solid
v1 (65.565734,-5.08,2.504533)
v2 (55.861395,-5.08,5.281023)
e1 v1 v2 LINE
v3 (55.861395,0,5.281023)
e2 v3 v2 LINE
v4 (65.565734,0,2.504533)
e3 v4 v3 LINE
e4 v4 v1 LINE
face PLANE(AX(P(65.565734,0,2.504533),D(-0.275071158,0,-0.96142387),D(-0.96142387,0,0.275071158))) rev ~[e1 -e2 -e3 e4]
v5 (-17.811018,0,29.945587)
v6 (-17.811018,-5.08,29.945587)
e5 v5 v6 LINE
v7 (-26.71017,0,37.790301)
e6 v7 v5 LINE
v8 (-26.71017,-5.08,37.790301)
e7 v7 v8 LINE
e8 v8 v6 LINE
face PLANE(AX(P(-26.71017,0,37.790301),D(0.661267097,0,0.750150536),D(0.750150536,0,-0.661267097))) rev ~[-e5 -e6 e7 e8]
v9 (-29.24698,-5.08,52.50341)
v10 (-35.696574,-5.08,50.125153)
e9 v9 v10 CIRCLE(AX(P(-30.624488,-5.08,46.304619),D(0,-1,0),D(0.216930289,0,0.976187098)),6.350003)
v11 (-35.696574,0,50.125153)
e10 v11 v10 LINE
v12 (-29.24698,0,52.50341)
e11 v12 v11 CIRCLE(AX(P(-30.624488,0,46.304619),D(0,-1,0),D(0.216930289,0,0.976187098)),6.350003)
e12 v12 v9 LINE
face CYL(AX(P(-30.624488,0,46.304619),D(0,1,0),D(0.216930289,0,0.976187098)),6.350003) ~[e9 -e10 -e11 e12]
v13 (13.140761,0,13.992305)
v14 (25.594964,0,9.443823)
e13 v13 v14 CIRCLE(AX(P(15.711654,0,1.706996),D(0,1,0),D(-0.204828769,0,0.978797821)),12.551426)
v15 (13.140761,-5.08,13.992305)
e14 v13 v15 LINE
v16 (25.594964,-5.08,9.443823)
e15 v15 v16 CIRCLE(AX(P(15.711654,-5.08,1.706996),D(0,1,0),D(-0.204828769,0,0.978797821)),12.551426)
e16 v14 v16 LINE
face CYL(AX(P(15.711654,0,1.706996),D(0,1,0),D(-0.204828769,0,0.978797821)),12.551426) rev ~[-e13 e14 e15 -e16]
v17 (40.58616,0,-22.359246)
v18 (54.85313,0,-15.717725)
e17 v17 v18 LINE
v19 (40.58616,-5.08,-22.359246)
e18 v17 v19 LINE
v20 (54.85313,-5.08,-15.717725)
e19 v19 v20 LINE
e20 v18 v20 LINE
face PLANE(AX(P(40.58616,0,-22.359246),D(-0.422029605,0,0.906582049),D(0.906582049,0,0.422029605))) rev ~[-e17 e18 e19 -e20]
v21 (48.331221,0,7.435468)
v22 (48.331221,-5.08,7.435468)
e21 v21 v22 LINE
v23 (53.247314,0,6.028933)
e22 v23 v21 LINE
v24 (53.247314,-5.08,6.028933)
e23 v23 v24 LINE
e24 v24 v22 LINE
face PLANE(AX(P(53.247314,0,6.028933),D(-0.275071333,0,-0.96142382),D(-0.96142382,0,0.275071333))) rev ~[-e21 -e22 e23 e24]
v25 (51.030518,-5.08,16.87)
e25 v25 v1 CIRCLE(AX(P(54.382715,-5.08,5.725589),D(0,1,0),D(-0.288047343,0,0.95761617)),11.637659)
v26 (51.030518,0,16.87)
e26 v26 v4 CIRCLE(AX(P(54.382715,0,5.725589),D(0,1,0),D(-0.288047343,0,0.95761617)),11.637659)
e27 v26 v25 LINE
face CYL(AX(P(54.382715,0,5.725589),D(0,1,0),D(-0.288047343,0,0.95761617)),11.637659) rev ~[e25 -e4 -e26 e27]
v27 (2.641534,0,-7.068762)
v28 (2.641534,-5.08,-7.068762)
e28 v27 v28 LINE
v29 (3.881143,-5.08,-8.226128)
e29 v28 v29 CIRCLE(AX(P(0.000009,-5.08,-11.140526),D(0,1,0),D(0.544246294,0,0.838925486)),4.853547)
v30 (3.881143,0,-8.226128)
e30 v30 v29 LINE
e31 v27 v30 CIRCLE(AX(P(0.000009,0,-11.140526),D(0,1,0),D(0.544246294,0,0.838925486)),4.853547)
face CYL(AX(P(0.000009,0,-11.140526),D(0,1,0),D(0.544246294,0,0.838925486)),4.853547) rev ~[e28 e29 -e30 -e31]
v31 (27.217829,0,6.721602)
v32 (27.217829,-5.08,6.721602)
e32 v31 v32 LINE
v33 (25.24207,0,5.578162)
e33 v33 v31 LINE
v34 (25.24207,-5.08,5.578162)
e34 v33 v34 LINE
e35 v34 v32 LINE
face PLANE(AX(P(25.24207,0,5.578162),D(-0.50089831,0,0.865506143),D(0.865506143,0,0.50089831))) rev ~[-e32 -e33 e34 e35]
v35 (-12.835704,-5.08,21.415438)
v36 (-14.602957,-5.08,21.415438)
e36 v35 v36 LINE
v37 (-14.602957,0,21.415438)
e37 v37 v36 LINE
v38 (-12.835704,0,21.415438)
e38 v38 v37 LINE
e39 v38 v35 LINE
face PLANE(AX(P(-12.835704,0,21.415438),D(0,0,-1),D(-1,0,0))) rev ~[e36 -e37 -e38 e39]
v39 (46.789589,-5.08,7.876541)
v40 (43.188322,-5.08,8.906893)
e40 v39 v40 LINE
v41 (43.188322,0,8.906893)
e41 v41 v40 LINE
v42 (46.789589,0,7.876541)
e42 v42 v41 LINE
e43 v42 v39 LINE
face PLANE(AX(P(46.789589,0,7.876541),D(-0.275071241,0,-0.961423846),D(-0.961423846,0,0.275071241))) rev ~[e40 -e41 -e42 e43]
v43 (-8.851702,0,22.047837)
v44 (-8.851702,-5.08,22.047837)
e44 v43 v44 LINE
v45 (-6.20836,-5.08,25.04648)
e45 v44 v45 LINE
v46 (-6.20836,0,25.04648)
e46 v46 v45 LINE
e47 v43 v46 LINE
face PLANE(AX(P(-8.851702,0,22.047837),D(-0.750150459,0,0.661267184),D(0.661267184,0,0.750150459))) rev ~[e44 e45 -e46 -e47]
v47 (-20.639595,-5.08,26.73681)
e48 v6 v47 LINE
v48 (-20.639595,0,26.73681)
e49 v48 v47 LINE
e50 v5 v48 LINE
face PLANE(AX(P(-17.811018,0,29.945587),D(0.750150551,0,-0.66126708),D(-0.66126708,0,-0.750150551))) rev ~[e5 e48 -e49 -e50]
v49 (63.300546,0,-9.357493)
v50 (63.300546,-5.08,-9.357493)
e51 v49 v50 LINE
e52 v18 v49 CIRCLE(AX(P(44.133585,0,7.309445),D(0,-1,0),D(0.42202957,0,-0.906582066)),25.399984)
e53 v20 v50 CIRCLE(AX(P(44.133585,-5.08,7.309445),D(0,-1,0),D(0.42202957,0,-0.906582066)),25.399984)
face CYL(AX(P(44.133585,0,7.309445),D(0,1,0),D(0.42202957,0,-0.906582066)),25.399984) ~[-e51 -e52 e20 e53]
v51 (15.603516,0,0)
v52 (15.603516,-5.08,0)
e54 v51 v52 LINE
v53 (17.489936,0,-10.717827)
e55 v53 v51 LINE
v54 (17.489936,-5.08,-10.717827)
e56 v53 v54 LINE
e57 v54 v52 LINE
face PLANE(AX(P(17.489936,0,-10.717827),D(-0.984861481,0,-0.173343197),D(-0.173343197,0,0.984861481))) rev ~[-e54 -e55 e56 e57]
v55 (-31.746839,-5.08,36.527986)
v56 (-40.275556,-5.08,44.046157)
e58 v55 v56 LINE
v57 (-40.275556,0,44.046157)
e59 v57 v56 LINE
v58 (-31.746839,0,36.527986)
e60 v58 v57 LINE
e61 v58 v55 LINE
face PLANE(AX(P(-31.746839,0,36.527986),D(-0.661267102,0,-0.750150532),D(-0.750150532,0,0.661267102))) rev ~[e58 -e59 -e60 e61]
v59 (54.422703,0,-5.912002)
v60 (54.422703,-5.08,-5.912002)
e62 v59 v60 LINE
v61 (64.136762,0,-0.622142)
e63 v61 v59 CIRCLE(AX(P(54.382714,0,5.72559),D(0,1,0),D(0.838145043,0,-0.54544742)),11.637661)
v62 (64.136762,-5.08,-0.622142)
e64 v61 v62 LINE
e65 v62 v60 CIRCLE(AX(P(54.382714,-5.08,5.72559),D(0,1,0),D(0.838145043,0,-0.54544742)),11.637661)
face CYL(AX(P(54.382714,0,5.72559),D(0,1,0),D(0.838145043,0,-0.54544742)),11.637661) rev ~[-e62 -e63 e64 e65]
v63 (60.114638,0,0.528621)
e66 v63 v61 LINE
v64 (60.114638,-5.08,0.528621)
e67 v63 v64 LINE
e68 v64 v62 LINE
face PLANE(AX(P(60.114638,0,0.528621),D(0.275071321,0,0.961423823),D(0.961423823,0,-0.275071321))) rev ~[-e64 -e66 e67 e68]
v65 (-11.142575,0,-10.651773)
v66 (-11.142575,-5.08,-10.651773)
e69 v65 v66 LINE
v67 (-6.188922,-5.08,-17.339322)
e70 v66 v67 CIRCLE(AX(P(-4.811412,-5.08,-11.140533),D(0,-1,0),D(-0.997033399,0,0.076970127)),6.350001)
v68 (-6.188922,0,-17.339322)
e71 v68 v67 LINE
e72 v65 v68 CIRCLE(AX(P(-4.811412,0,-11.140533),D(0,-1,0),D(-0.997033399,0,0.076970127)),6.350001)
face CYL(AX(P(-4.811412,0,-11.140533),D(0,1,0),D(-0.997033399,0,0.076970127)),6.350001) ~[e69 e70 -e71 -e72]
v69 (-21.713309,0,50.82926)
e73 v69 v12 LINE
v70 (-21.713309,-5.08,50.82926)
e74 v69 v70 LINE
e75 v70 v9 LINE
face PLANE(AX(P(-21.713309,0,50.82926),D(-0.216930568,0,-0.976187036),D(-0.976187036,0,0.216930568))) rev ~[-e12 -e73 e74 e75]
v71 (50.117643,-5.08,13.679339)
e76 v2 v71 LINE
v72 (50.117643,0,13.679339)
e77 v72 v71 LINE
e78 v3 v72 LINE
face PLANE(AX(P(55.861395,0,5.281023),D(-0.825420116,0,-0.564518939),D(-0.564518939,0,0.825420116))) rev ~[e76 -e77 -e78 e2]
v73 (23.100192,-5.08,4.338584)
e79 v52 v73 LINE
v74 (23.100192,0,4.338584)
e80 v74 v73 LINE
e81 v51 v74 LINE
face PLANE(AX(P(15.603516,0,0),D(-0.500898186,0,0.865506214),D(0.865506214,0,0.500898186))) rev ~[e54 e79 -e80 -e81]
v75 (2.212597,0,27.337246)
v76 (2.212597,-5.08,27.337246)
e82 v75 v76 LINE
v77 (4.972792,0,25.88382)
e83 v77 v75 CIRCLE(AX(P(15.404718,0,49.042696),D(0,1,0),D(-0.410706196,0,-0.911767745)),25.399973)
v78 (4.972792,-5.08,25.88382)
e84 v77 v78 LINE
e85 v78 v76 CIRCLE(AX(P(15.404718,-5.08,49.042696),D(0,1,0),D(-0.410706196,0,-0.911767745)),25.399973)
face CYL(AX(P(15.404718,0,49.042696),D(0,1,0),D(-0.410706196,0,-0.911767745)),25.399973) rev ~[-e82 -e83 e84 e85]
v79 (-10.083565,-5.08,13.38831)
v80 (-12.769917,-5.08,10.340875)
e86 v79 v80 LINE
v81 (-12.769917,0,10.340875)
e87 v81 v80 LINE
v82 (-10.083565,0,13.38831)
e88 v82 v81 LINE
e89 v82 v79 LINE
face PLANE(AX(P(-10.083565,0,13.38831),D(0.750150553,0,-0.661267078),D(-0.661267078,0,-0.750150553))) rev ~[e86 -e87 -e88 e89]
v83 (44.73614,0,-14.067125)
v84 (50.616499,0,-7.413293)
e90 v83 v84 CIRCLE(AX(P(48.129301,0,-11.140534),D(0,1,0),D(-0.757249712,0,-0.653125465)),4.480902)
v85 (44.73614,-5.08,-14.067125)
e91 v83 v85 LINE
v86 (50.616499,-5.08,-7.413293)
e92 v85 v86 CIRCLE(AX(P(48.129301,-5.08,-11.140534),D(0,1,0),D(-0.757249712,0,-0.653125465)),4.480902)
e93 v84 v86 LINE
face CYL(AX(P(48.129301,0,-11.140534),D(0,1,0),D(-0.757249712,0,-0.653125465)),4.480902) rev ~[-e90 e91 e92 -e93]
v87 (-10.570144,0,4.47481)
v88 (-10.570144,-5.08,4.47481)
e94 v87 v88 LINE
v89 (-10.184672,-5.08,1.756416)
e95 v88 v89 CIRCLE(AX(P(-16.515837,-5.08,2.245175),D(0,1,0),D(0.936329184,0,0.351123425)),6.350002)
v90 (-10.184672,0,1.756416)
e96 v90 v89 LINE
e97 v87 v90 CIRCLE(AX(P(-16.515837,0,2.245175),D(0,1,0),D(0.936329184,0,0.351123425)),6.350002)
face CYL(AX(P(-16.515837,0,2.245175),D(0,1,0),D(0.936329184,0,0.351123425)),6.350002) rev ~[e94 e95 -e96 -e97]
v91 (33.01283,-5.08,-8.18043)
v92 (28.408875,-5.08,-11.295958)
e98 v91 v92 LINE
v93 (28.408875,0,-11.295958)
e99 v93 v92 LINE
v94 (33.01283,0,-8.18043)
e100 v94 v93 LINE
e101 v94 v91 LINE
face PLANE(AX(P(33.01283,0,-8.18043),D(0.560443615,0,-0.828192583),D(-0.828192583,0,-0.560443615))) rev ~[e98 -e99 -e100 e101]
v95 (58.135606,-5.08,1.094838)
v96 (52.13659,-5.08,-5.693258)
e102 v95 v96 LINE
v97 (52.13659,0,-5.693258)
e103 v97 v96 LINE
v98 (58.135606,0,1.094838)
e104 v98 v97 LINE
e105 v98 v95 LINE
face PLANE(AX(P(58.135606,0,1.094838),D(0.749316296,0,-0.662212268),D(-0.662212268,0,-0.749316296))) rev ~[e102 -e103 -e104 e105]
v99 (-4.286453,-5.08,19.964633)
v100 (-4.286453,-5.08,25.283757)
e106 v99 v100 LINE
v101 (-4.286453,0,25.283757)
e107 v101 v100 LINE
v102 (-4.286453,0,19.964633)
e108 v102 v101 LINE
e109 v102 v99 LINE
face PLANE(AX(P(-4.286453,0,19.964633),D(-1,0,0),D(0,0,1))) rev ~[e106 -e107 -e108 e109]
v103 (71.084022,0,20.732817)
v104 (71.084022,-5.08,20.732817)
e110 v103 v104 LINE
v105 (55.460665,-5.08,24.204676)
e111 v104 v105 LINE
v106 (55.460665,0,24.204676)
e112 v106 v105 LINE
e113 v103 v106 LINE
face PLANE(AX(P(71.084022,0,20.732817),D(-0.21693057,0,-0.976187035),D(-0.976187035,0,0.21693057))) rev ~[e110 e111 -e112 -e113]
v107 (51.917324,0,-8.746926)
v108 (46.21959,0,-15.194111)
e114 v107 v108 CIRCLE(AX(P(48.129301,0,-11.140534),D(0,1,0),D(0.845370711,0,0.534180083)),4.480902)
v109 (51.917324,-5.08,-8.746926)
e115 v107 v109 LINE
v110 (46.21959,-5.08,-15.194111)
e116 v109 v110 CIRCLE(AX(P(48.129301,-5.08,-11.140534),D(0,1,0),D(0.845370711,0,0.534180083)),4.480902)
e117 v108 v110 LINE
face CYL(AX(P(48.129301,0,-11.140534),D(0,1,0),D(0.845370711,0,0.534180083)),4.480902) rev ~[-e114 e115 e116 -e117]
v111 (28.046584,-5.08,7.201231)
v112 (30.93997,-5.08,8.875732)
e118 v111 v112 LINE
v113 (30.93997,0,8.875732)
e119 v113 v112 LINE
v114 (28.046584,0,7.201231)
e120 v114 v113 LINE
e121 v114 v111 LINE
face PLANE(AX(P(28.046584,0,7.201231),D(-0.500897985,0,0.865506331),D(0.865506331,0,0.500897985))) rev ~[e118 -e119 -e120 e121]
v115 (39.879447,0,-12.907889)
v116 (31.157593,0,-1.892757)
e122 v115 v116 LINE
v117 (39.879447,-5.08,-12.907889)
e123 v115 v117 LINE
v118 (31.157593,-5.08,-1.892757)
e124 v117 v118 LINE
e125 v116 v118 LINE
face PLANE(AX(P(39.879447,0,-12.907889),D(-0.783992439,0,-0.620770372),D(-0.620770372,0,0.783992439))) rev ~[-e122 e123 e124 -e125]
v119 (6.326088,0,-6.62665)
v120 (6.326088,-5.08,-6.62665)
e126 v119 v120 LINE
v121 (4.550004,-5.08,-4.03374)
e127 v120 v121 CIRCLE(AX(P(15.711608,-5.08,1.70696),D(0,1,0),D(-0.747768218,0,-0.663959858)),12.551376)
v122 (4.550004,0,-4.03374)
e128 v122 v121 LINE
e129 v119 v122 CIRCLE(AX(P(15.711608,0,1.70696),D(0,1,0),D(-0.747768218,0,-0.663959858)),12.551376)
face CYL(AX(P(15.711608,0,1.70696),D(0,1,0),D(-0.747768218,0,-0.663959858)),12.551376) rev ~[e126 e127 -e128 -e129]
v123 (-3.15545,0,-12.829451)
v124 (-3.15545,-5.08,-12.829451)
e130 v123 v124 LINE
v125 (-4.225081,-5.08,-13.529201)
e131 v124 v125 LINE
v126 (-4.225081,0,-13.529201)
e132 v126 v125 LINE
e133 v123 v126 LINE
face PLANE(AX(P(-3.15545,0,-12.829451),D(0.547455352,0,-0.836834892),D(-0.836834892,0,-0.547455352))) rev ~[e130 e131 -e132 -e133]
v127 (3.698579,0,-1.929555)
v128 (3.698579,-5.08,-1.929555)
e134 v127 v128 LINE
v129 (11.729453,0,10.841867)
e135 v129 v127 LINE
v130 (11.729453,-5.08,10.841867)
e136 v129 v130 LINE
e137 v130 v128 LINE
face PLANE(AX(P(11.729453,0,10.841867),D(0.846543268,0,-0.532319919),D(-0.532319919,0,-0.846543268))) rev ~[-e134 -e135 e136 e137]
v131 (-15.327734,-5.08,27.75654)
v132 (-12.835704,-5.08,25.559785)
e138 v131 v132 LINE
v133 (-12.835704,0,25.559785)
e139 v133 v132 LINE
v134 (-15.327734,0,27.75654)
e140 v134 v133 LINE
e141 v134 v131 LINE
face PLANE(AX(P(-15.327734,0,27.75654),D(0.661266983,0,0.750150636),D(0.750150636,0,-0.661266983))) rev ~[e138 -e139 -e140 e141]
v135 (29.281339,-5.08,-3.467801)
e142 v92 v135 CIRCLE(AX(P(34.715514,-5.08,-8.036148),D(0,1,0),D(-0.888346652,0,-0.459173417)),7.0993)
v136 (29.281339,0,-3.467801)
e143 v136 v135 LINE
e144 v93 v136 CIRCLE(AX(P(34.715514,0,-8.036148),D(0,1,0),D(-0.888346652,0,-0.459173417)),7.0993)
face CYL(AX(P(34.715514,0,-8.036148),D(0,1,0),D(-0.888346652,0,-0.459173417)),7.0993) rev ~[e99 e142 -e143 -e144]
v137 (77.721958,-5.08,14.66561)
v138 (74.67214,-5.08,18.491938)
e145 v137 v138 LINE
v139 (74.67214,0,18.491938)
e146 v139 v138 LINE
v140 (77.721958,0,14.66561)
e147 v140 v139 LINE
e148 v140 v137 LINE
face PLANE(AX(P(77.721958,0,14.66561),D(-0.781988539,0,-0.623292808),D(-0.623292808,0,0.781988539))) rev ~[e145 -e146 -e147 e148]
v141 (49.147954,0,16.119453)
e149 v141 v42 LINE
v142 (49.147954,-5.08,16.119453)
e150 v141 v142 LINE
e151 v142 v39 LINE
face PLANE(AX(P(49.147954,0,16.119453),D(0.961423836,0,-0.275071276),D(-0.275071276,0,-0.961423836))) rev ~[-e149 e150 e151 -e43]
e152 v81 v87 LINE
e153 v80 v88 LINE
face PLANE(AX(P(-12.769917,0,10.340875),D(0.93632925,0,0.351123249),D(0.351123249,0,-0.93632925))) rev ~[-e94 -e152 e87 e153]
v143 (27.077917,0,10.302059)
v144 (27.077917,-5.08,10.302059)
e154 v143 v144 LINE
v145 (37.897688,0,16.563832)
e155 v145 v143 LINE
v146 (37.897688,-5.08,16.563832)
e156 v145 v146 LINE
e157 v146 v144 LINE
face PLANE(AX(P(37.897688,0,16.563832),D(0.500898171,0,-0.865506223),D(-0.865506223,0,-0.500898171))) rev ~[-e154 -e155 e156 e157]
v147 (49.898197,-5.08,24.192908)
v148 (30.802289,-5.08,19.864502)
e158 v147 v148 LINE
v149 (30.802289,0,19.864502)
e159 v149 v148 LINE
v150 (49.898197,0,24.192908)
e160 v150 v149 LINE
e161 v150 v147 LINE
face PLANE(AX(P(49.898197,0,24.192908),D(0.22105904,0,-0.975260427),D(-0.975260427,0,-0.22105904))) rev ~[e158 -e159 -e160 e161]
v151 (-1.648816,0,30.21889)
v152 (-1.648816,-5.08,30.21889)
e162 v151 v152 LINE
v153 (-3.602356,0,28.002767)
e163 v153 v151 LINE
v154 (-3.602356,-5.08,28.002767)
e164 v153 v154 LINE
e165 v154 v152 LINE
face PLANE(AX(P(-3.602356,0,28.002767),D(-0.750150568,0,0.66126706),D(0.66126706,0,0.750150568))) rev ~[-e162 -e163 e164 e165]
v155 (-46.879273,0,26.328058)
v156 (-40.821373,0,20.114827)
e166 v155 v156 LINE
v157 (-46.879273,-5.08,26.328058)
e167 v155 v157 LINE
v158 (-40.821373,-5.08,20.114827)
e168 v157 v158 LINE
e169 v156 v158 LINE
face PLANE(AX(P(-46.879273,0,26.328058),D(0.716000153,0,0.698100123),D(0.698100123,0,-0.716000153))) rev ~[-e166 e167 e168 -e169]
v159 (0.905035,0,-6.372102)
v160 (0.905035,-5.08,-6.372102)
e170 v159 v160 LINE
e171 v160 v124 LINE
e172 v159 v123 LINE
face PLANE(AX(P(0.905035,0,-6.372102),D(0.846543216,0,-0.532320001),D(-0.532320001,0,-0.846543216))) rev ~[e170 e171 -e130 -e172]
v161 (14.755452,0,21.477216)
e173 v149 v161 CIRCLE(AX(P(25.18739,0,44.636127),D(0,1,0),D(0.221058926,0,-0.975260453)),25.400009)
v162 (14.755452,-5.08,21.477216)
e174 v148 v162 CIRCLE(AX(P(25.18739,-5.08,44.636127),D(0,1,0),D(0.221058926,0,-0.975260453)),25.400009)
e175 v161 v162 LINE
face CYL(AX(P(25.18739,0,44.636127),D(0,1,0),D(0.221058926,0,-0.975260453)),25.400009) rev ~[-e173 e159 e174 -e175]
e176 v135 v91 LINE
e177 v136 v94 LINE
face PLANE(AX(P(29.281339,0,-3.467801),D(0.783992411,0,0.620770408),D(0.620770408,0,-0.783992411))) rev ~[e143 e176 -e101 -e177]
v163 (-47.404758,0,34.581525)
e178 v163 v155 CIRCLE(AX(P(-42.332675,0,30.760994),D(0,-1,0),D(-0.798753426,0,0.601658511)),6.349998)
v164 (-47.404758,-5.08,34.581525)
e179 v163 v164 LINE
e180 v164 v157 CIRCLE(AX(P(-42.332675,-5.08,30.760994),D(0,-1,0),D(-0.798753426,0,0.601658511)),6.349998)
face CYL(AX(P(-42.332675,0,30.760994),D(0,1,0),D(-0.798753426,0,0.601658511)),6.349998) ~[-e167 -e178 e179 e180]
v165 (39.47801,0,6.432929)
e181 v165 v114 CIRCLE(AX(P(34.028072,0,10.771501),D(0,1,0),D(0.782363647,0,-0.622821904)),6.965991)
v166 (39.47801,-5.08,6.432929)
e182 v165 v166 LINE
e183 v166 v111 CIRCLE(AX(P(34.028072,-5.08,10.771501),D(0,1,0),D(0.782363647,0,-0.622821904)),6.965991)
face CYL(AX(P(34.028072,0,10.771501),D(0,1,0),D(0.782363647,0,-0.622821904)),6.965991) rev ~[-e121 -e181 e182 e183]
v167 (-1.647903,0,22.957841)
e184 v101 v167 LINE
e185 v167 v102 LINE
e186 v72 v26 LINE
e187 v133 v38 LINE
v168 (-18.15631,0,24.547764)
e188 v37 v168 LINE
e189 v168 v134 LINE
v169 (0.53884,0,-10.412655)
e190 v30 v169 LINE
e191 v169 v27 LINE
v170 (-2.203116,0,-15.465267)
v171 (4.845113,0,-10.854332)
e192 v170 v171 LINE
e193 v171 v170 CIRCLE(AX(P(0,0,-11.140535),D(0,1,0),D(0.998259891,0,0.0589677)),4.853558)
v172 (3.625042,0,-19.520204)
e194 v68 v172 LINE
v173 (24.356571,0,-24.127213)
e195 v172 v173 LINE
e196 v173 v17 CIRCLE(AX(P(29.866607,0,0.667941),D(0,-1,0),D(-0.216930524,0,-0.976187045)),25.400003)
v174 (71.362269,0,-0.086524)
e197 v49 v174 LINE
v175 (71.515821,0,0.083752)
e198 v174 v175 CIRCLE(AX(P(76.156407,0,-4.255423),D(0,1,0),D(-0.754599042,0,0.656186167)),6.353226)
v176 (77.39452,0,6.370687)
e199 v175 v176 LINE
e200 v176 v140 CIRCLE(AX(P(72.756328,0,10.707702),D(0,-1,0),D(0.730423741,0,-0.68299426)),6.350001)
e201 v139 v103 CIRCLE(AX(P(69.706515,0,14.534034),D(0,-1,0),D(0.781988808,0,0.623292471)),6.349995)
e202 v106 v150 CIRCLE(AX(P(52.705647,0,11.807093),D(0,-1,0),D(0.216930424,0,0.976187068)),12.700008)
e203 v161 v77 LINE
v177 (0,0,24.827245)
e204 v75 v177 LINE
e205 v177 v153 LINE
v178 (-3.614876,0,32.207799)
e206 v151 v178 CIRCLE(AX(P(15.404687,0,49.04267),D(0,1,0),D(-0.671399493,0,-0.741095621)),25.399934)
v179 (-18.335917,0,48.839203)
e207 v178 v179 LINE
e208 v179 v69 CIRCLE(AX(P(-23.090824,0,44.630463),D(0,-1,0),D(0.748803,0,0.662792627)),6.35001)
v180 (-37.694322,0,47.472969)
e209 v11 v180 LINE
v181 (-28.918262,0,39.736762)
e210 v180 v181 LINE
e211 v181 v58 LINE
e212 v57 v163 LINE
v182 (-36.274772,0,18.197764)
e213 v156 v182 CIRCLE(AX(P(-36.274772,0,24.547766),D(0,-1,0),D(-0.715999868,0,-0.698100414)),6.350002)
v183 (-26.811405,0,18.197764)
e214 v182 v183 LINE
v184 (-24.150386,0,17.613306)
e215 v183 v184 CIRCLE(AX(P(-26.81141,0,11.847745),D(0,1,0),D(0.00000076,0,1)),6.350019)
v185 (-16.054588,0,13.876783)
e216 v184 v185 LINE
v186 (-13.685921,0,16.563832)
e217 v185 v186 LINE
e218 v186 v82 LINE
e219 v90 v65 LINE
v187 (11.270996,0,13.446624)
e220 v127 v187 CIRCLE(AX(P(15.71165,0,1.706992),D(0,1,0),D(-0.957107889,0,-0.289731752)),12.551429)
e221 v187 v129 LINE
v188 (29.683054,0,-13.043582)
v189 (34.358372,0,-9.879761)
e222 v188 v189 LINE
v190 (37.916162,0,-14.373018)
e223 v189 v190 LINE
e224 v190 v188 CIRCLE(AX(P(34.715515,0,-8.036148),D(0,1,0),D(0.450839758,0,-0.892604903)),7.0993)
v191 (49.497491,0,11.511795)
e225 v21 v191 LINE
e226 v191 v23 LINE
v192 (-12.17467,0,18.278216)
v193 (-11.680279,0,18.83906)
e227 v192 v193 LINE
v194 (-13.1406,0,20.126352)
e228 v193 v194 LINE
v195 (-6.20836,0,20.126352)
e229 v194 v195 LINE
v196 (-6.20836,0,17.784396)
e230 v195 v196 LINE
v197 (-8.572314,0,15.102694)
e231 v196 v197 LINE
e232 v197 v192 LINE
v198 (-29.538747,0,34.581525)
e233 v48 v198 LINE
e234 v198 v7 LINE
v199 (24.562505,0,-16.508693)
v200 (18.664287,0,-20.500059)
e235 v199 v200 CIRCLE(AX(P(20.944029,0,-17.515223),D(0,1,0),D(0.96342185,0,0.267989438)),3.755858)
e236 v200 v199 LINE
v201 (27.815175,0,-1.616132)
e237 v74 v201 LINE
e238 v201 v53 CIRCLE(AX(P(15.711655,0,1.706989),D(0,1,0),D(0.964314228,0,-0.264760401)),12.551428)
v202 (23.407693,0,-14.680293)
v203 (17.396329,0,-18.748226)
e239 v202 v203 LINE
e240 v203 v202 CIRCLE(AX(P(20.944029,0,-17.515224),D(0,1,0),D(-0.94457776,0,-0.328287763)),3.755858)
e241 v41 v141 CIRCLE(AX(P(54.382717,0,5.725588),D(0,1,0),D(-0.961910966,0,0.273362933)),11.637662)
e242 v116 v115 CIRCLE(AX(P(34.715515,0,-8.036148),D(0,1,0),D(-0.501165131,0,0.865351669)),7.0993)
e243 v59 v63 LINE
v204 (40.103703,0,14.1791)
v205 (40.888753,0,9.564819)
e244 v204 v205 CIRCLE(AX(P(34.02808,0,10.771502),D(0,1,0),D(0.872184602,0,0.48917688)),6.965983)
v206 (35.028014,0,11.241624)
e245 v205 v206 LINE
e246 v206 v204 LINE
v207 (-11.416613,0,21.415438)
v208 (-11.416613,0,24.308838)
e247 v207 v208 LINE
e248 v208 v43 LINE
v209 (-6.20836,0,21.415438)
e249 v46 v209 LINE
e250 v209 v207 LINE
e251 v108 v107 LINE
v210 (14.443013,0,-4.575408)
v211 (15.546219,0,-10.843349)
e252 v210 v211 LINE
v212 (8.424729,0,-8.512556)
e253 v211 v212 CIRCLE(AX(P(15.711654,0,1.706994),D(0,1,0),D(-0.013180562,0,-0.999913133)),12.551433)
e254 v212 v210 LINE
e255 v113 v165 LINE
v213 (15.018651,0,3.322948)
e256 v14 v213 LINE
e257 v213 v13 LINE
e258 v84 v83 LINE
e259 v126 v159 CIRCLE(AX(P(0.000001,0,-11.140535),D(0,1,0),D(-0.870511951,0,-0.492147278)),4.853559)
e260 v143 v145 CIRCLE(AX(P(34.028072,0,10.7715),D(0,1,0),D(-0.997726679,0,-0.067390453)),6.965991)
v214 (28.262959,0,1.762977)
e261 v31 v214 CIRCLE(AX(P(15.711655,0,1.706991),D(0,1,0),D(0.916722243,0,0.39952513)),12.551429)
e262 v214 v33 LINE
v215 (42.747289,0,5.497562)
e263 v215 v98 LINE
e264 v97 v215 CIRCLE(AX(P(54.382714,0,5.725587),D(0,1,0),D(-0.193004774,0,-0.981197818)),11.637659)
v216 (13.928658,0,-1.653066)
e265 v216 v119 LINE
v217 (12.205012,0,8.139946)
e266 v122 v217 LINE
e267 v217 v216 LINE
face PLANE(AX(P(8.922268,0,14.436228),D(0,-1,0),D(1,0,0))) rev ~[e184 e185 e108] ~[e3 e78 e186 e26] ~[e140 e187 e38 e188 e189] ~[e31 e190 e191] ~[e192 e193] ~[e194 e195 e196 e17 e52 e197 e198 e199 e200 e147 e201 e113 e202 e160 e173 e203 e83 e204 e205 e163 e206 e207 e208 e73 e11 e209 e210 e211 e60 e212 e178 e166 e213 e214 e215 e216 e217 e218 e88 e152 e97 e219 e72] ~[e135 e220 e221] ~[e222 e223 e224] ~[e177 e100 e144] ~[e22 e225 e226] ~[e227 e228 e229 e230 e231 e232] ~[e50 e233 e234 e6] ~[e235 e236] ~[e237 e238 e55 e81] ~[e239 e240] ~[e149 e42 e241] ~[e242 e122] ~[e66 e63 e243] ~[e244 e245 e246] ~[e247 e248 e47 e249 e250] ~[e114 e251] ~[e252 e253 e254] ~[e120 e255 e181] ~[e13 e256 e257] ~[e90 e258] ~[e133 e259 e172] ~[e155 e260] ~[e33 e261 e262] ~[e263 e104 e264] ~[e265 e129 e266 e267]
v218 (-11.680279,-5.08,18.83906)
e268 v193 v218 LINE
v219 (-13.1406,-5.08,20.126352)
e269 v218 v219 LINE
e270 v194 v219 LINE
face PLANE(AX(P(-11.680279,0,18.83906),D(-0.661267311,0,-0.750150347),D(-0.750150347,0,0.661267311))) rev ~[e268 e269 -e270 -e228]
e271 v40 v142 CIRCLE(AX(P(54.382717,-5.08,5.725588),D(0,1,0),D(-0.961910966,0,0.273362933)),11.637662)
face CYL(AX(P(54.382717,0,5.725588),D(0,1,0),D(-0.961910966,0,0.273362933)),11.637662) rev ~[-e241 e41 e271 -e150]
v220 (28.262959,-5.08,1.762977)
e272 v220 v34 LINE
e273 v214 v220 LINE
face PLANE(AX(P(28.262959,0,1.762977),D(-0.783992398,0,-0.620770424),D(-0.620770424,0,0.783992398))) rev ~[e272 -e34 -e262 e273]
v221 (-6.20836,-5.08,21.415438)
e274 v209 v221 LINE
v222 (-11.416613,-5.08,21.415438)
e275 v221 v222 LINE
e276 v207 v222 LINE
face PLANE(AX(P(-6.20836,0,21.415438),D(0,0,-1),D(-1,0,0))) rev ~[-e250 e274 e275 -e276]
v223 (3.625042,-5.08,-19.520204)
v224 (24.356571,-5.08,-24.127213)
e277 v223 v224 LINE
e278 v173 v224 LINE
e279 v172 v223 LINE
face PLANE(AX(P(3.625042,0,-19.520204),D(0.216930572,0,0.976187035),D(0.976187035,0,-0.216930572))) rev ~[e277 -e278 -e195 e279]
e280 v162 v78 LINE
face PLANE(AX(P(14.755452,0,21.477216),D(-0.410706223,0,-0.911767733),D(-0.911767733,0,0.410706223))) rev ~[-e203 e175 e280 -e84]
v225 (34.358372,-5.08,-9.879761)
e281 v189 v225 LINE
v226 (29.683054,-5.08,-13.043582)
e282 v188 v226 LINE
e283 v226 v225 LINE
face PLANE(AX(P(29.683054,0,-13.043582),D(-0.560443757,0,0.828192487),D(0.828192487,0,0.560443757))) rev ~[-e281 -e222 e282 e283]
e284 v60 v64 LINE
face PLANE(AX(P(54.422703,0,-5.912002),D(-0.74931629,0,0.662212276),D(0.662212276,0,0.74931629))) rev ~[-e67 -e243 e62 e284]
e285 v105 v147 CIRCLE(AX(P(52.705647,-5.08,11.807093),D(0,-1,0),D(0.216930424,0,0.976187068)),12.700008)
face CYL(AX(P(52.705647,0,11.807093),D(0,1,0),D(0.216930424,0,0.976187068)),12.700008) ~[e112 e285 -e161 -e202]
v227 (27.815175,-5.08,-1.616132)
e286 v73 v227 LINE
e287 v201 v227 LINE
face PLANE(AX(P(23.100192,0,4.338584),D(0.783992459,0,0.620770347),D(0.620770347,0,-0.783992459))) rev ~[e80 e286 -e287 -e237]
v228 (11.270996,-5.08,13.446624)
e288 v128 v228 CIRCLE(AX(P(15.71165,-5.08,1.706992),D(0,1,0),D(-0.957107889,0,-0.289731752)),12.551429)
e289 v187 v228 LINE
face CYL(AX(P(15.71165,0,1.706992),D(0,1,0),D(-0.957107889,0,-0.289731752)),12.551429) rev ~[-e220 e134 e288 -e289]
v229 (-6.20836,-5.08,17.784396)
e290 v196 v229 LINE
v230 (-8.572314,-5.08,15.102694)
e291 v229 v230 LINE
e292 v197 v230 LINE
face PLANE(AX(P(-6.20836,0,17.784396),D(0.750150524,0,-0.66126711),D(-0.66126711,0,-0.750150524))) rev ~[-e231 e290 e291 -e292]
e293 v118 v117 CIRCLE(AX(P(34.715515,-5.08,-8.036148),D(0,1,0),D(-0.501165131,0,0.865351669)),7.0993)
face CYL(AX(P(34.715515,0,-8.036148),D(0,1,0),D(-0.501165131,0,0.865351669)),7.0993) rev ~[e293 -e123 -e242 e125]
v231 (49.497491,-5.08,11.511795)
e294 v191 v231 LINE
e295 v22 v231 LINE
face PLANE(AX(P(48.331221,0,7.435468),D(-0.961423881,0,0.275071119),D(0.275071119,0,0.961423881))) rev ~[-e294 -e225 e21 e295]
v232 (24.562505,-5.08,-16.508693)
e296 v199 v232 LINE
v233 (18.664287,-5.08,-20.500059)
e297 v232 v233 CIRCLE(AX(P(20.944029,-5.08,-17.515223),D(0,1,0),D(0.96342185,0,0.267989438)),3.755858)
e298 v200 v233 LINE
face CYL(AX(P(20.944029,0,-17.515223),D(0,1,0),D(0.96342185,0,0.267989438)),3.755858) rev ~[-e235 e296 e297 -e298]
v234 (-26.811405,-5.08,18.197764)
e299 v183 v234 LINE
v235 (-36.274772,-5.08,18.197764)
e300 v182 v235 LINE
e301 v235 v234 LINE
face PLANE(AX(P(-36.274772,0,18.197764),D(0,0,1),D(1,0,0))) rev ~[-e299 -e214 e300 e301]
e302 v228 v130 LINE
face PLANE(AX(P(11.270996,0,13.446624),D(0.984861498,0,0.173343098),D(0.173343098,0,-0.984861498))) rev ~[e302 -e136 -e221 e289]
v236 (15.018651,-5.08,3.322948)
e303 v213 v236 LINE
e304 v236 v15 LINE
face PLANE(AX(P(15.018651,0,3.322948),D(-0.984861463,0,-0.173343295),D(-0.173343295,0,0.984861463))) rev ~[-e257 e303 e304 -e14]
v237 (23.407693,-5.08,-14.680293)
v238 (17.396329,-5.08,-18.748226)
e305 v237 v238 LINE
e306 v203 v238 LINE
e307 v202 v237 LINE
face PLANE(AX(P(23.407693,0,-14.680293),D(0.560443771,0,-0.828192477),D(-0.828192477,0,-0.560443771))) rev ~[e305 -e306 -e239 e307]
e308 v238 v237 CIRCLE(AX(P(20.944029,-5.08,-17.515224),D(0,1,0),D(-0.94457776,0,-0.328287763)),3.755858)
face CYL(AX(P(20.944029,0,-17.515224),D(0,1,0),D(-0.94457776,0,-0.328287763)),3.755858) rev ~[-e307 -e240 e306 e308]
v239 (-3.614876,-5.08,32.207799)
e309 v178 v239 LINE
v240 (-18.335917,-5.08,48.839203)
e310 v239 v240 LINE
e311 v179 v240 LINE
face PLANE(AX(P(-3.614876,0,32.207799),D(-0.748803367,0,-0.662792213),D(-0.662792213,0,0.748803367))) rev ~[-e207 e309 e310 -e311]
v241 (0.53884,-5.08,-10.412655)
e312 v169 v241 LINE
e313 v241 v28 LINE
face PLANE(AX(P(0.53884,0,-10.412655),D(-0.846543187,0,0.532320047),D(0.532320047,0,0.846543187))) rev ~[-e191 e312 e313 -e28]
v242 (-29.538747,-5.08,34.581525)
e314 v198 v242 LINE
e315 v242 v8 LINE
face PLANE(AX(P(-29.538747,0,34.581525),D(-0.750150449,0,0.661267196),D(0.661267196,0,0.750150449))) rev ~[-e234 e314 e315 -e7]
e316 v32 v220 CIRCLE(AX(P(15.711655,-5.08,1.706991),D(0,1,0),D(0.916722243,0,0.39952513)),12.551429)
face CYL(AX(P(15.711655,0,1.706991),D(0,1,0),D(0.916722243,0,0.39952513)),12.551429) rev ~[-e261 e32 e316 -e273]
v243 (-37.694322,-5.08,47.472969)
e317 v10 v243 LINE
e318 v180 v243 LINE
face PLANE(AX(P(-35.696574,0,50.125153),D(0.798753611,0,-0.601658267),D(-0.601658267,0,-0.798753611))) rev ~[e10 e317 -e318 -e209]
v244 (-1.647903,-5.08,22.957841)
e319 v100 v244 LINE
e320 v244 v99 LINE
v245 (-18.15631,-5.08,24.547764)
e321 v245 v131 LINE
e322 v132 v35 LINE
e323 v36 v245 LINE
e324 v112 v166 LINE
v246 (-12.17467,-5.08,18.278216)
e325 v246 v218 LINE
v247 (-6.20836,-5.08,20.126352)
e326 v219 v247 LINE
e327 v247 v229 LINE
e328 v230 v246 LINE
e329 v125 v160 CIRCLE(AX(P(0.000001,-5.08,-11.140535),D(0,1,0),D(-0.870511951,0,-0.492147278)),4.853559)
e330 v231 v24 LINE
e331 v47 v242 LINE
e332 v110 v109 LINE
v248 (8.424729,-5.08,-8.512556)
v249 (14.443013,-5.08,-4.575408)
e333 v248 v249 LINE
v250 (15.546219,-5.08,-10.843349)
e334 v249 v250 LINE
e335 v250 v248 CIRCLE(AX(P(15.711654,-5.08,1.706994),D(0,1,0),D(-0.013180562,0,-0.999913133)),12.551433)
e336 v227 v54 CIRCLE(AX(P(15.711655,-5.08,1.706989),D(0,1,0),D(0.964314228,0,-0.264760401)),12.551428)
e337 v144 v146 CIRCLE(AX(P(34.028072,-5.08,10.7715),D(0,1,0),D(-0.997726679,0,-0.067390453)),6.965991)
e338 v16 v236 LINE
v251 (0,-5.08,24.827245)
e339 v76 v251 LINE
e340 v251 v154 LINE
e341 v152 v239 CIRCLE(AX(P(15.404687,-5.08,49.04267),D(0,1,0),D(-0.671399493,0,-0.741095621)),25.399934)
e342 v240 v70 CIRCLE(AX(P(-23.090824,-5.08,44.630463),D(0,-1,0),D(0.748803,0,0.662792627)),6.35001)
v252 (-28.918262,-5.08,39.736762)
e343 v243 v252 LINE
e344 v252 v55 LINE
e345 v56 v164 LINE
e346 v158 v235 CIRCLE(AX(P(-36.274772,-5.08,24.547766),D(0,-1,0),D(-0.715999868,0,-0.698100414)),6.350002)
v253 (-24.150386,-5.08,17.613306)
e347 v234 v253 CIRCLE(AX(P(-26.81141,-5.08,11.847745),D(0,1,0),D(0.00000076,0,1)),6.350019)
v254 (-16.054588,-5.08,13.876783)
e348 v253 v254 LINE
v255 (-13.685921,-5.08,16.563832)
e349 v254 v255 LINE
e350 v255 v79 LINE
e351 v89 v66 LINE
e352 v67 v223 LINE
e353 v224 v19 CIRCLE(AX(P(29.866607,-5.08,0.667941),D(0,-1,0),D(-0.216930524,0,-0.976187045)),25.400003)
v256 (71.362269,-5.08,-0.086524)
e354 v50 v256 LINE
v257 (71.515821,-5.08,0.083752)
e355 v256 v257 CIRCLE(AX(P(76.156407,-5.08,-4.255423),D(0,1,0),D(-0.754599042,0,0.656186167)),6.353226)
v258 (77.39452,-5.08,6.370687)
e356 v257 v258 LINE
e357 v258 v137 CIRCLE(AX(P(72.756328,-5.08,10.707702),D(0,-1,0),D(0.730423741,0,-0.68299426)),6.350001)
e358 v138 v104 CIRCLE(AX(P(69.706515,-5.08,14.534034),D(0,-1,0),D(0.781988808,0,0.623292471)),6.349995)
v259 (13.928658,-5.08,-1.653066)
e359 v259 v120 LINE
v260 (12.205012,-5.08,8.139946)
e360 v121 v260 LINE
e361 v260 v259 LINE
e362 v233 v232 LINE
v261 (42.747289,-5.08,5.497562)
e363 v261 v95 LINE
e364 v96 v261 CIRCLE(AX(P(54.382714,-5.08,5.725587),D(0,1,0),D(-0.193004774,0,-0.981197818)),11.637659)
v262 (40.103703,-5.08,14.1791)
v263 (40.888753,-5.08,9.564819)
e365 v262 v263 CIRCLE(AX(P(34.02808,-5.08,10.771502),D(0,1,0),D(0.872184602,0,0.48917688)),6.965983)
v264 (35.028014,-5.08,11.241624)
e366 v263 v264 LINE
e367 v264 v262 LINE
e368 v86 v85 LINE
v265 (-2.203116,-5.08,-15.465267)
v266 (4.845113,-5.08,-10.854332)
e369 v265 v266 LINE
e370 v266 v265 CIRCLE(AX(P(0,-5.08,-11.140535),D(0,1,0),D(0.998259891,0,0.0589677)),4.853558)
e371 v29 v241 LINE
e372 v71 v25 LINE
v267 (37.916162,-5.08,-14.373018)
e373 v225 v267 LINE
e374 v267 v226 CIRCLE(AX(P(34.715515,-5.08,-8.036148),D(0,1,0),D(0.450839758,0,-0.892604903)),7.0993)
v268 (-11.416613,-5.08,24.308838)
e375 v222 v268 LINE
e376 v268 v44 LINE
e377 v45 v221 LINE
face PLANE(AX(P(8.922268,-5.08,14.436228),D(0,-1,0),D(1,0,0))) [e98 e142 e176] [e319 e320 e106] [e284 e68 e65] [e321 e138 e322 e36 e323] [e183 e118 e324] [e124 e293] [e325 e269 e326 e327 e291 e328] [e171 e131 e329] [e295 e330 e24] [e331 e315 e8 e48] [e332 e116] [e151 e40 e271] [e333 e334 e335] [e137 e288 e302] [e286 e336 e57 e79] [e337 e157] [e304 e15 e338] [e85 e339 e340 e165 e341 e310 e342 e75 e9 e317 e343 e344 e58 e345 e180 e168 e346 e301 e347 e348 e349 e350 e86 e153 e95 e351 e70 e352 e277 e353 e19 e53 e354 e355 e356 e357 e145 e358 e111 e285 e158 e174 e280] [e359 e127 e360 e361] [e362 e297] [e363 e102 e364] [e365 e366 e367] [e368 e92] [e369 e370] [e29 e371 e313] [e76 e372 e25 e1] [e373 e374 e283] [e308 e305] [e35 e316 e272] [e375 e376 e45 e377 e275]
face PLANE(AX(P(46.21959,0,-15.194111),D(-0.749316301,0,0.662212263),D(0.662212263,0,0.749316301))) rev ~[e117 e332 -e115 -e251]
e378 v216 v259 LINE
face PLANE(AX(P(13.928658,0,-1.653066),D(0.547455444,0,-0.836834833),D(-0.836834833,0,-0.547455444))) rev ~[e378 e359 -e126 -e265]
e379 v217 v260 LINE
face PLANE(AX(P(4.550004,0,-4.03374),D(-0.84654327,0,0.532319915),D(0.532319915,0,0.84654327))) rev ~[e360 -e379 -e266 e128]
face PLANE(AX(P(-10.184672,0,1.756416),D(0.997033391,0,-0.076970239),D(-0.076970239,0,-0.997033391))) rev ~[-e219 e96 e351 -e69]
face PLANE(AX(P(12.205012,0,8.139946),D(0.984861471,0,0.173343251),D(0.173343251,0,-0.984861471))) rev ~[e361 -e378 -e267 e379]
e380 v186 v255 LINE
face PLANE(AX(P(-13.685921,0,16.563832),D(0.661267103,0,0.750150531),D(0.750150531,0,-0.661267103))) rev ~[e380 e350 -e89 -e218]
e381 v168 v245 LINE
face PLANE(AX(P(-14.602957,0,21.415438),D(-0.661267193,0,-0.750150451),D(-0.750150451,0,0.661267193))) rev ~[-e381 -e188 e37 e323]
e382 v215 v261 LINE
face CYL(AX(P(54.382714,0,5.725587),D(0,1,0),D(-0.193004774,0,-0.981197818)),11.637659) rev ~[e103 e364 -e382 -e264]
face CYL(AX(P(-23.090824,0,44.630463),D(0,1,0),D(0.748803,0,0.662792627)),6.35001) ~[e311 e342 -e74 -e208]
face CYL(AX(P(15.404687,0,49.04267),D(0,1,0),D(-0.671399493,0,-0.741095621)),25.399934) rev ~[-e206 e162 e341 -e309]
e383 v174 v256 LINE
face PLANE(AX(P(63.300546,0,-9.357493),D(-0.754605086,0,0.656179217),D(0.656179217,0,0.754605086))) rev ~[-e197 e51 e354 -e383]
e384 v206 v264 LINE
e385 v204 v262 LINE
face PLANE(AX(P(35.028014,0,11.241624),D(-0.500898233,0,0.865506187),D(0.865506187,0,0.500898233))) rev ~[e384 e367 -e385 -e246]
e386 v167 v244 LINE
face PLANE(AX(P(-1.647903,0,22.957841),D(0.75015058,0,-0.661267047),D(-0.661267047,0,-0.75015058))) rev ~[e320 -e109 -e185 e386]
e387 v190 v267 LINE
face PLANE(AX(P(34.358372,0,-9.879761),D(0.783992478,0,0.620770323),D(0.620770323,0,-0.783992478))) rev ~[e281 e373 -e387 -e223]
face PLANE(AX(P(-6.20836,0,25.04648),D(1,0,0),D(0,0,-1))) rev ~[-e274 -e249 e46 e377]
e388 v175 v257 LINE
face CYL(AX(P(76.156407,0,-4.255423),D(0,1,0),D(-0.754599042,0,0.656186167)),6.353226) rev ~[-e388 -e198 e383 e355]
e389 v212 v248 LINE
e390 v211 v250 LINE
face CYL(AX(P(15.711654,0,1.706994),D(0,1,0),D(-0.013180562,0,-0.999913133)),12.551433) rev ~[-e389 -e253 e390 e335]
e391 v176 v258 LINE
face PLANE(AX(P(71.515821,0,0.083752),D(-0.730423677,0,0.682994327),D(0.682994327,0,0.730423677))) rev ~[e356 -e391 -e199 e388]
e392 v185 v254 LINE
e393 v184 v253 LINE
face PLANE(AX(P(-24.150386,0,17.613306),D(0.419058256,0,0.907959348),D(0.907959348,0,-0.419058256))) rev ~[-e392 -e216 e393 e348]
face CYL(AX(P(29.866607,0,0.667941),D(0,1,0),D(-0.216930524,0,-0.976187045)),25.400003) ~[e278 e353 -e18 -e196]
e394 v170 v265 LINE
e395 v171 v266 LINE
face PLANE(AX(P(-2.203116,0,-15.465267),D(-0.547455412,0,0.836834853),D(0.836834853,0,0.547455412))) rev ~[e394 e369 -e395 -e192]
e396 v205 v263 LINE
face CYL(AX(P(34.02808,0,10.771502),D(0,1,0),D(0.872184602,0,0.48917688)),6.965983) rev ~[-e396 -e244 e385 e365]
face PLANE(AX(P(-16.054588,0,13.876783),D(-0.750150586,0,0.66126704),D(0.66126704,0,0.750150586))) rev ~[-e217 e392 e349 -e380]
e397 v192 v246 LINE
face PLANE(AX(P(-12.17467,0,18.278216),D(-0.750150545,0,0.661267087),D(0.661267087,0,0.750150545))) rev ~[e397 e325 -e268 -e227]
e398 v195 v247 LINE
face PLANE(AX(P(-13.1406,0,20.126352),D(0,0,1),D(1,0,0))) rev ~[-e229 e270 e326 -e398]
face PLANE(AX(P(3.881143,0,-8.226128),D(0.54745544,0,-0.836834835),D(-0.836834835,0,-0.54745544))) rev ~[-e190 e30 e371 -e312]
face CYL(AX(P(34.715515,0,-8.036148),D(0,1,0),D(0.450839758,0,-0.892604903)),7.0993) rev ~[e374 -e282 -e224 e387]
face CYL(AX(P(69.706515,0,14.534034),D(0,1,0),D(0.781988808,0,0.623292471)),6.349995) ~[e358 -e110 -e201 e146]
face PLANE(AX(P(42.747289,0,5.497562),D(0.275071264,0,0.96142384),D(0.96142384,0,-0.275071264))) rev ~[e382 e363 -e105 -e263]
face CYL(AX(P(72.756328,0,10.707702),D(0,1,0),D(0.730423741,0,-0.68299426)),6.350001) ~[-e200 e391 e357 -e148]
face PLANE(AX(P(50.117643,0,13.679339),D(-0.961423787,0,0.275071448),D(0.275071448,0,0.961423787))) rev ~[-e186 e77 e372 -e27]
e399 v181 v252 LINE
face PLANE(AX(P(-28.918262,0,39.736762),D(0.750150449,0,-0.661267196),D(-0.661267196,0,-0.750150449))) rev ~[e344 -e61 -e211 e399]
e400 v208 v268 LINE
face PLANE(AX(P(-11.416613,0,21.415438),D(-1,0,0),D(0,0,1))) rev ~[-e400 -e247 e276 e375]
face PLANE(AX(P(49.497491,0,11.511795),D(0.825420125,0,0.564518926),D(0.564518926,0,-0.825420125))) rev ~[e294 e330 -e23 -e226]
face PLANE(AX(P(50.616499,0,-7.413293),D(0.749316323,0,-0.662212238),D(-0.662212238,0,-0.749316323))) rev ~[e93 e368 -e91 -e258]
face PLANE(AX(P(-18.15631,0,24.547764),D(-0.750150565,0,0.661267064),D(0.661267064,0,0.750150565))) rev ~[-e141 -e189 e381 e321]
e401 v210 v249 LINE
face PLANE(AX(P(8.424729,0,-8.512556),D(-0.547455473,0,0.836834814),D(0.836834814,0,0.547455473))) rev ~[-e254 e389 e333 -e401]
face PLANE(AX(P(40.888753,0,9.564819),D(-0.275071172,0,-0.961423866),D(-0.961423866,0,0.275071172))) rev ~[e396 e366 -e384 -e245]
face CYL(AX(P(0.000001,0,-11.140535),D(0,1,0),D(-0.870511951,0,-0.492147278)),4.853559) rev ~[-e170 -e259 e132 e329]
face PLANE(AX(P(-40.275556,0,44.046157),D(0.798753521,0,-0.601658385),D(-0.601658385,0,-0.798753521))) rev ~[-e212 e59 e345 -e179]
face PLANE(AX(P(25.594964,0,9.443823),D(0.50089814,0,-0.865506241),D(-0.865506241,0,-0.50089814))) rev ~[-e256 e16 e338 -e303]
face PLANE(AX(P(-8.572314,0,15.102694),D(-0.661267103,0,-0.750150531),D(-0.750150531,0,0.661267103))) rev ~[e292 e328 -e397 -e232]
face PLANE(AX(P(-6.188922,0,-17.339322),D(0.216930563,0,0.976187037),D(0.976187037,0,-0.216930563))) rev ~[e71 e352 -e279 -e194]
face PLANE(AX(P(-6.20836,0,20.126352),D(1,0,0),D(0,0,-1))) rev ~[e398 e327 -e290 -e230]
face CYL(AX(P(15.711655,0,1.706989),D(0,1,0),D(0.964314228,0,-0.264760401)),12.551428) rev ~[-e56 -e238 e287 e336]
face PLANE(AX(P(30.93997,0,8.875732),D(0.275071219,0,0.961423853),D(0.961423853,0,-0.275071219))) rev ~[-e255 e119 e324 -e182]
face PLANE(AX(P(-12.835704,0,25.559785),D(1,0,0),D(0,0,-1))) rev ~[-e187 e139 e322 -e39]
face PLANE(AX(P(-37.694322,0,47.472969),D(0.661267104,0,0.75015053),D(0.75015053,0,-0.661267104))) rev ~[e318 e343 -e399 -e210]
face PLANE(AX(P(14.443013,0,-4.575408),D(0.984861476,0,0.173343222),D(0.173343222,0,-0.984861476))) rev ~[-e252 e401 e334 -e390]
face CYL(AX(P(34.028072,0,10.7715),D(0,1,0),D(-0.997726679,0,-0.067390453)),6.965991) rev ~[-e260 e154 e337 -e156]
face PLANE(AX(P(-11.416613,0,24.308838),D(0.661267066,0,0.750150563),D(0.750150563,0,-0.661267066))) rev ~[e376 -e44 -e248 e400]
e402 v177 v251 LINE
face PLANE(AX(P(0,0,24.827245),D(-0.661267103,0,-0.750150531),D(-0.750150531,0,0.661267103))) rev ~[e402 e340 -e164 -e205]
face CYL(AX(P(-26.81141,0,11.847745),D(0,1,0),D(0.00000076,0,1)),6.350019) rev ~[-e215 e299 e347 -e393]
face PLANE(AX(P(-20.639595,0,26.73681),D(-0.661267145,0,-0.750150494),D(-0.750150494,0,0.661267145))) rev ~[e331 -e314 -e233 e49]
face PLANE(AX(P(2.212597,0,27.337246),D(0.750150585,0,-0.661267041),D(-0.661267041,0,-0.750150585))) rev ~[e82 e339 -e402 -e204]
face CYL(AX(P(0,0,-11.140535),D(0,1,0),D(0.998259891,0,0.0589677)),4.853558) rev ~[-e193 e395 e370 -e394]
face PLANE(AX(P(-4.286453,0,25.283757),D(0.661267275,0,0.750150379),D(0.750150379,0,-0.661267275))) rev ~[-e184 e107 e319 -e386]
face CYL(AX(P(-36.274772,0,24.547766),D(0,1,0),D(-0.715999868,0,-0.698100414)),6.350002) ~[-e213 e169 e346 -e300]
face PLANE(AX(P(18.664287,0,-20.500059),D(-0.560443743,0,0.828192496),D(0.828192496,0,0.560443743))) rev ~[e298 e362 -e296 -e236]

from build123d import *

# Parameters (mm, degrees)
F1_DEPTH = 5.08


with BuildPart() as f1:
    # F0 (on Front) → F1 (new body)
    with BuildSketch(Plane.XZ):
        with BuildLine():
            Line((-40.275556, 44.046157), (-47.404758, 34.581525))
            ThreePointArc((-47.404758, 34.581525), (-48.669842, 30.357517), (-46.879273, 26.328058))
            Line((-46.879273, 26.328058), (-40.821373, 20.114827))
            ThreePointArc((-40.821373, 20.114827), (-38.741891, 18.696625), (-36.274772, 18.197764))
            Line((-36.274772, 18.197764), (-26.811405, 18.197764))
            ThreePointArc((-26.811405, 18.197764), (-25.449181, 18.049928), (-24.150386, 17.613306))
            Line((-24.150386, 17.613306), (-16.054588, 13.876783))
            Line((-16.054588, 13.876783), (-13.685921, 16.563832))
            Line((-13.685921, 16.563832), (-10.083565, 13.38831))
            Line((-10.083565, 13.38831), (-12.769917, 10.340875))
            Line((-12.769917, 10.340875), (-10.570144, 4.47481))
            ThreePointArc((-10.570144, 4.47481), (-10.228729, 3.136696), (-10.184672, 1.756416))
            Line((-10.184672, 1.756416), (-11.142575, -10.651773))
            ThreePointArc((-11.142575, -10.651773), (-9.914032, -14.920187), (-6.188922, -17.339322))
            Line((-6.188922, -17.339322), (3.625042, -19.520204))
            Line((3.625042, -19.520204), (24.356571, -24.127213))
            ThreePointArc((24.356571, -24.127213), (32.617279, -24.582682), (40.58616, -22.359246))
            Line((40.58616, -22.359246), (54.85313, -15.717725))
            ThreePointArc((54.85313, -15.717725), (59.411476, -12.982062), (63.300546, -9.357493))
            Line((63.300546, -9.357493), (71.362269, -0.086524))
            ThreePointArc((71.362269, -0.086524), (71.438277, -0.000693), (71.515821, 0.083752))
            Line((71.515821, 0.083752), (77.39452, 6.370687))
            ThreePointArc((77.39452, 6.370687), (79.101388, 10.457233), (77.721958, 14.66561))
            Line((77.721958, 14.66561), (74.67214, 18.491938))
            ThreePointArc((74.67214, 18.491938), (73.070176, 19.919962), (71.084022, 20.732817))
            Line((71.084022, 20.732817), (55.460665, 24.204676))
            ThreePointArc((55.460665, 24.204676), (52.678779, 24.507072), (49.898197, 24.192908))
            Line((49.898197, 24.192908), (30.802289, 19.864502))
            ThreePointArc((30.802289, 19.864502), (22.647473, 19.363428), (14.755452, 21.477216))
            Line((14.755452, 21.477216), (4.972792, 25.88382))
            ThreePointArc((4.972792, 25.88382), (3.570361, 26.568119), (2.212597, 27.337246))
            Line((2.212597, 27.337246), (0, 24.827245))
            Line((0, 24.827245), (-3.602356, 28.002767))
            Line((-3.602356, 28.002767), (-1.648816, 30.21889))
            ThreePointArc((-1.648816, 30.21889), (-2.65924, 31.186265), (-3.614876, 32.207799))
            Line((-3.614876, 32.207799), (-18.335917, 48.839203))
            ThreePointArc((-18.335917, 48.839203), (-19.867203, 50.101377), (-21.713309, 50.82926))
            Line((-21.713309, 50.82926), (-29.24698, 52.50341))
            ThreePointArc((-29.24698, 52.50341), (-32.821418, 52.262474), (-35.696574, 50.125153))
            Line((-35.696574, 50.125153), (-37.694322, 47.472969))
            Line((-37.694322, 47.472969), (-28.918262, 39.736762))
            Line((-28.918262, 39.736762), (-31.746839, 36.527986))
            Line((-31.746839, 36.527986), (-40.275556, 44.046157))
        make_face()
        with BuildLine():
            ThreePointArc((-4.225081, -13.529201), (-3.944831, -8.312931), (0.905035, -6.372102))
            Line((0.905035, -6.372102), (-3.15545, -12.829451))
            Line((-3.15545, -12.829451), (-4.225081, -13.529201))
        make_face(mode=Mode.SUBTRACT)
        with BuildLine():
            ThreePointArc((4.845113, -10.854332), (2.657107, -15.202162), (-2.203116, -15.465267))
            Line((-2.203116, -15.465267), (4.845113, -10.854332))
        make_face(mode=Mode.SUBTRACT)
        with BuildLine():
            ThreePointArc((2.641534, -7.068762), (3.312281, -7.592883), (3.881143, -8.226128))
            Line((3.881143, -8.226128), (0.53884, -10.412655))
            Line((0.53884, -10.412655), (2.641534, -7.068762))
        make_face(mode=Mode.SUBTRACT)
        with BuildLine():
            Line((8.424729, -8.512556), (14.443013, -4.575408))
            Line((14.443013, -4.575408), (15.546219, -10.843349))
            ThreePointArc((15.546219, -10.843349), (11.807481, -10.221791), (8.424729, -8.512556))
        make_face(mode=Mode.SUBTRACT)
        with BuildLine():
            Line((4.550004, -4.03374), (12.205012, 8.139946))
            Line((12.205012, 8.139946), (13.928658, -1.653066))
            Line((13.928658, -1.653066), (6.326088, -6.62665))
            ThreePointArc((6.326088, -6.62665), (5.356567, -5.386006), (4.550004, -4.03374))
        make_face(mode=Mode.SUBTRACT)
        with BuildLine():
            ThreePointArc((3.698579, -1.929555), (4.451633, 7.252294), (11.270996, 13.446624))
            Line((11.270996, 13.446624), (11.729453, 10.841867))
            Line((11.729453, 10.841867), (3.698579, -1.929555))
        make_face(mode=Mode.SUBTRACT)
        with BuildLine():
            ThreePointArc((24.562505, -16.508693), (23.048976, -20.625797), (18.664287, -20.500059))
            Line((18.664287, -20.500059), (24.562505, -16.508693))
        make_face(mode=Mode.SUBTRACT)
        with BuildLine():
            ThreePointArc((17.396329, -18.748226), (18.839082, -14.40465), (23.407693, -14.680293))
            Line((23.407693, -14.680293), (17.396329, -18.748226))
        make_face(mode=Mode.SUBTRACT)
        with BuildLine():
            ThreePointArc((28.408875, -11.295958), (27.6599, -7.249786), (29.281339, -3.467801))
            Line((29.281339, -3.467801), (33.01283, -8.18043))
            Line((33.01283, -8.18043), (28.408875, -11.295958))
        make_face(mode=Mode.SUBTRACT)
        with BuildLine():
            Line((29.683054, -13.043582), (34.358372, -9.879761))
            Line((34.358372, -9.879761), (37.916162, -14.373018))
            ThreePointArc((37.916162, -14.373018), (33.583819, -15.044666), (29.683054, -13.043582))
        make_face(mode=Mode.SUBTRACT)
        with BuildLine():
            ThreePointArc((44.73614, -14.067125), (44.771689, -8.173226), (50.616499, -7.413293))
            Line((50.616499, -7.413293), (44.73614, -14.067125))
        make_face(mode=Mode.SUBTRACT)
        with BuildLine():
            Line((39.879447, -12.907889), (31.157593, -1.892757))
            ThreePointArc((31.157593, -1.892757), (40.281312, -3.629113), (39.879447, -12.907889))
        make_face(mode=Mode.SUBTRACT)
        with BuildLine():
            ThreePointArc((51.917324, -8.746926), (51.486914, -14.107842), (46.21959, -15.194111))
            Line((46.21959, -15.194111), (51.917324, -8.746926))
        make_face(mode=Mode.SUBTRACT)
        with BuildLine():
            Line((17.489936, -10.717827), (15.603516, 0))
            Line((15.603516, 0), (23.100192, 4.338584))
            Line((23.100192, 4.338584), (27.815175, -1.616132))
            ThreePointArc((27.815175, -1.616132), (24.011433, -7.708531), (17.489936, -10.717827))
        make_face(mode=Mode.SUBTRACT)
        with BuildLine():
            Line((28.262959, 1.762977), (25.24207, 5.578162))
            Line((25.24207, 5.578162), (27.217829, 6.721602))
            ThreePointArc((27.217829, 6.721602), (27.993249, 4.295584), (28.262959, 1.762977))
        make_face(mode=Mode.SUBTRACT)
        with BuildLine():
            ThreePointArc((13.140761, 13.992305), (20.017468, 13.496749), (25.594964, 9.443823))
            Line((25.594964, 9.443823), (15.018651, 3.322948))
            Line((15.018651, 3.322948), (13.140761, 13.992305))
        make_face(mode=Mode.SUBTRACT)
        with BuildLine():
            Line((30.93997, 8.875732), (39.47801, 6.432929))
            ThreePointArc((39.47801, 6.432929), (33.560944, 3.82119), (28.046584, 7.201231))
            Line((28.046584, 7.201231), (30.93997, 8.875732))
        make_face(mode=Mode.SUBTRACT)
        with BuildLine():
            Line((40.888753, 9.564819), (35.028014, 11.241624))
            Line((35.028014, 11.241624), (40.103703, 14.1791))
            ThreePointArc((40.103703, 14.1791), (40.895382, 11.939869), (40.888753, 9.564819))
        make_face(mode=Mode.SUBTRACT)
        with BuildLine():
            Line((46.789589, 7.876541), (43.188322, 8.906893))
            ThreePointArc((43.188322, 8.906893), (45.411398, 13.138456), (49.147954, 16.119453))
            Line((49.147954, 16.119453), (46.789589, 7.876541))
        make_face(mode=Mode.SUBTRACT)
        with BuildLine():
            Line((54.422703, -5.912002), (60.114638, 0.528621))
            Line((60.114638, 0.528621), (64.136762, -0.622142))
            ThreePointArc((64.136762, -0.622142), (59.948363, -4.494914), (54.422703, -5.912002))
        make_face(mode=Mode.SUBTRACT)
        with BuildLine():
            ThreePointArc((52.13659, -5.693258), (45.467392, -1.754529), (42.747289, 5.497562))
            Line((42.747289, 5.497562), (58.135606, 1.094838))
            Line((58.135606, 1.094838), (52.13659, -5.693258))
        make_face(mode=Mode.SUBTRACT)
        Polygon((53.247314, 6.028933), (48.331221, 7.435468), (49.497491, 11.511795), align=None, mode=Mode.SUBTRACT)
        with BuildLine():
            ThreePointArc((51.030518, 16.87), (62.563308, 14.002848), (65.565734, 2.504533))
            Line((65.565734, 2.504533), (55.861395, 5.281023))
            Line((55.861395, 5.281023), (50.117643, 13.679339))
            Line((50.117643, 13.679339), (51.030518, 16.87))
        make_face(mode=Mode.SUBTRACT)
        Polygon((-20.639595, 26.73681), (-29.538747, 34.581525), (-26.71017, 37.790301), (-17.811018, 29.945587), align=None, mode=Mode.SUBTRACT)
        Polygon((-6.20836, 17.784396), (-8.572314, 15.102694), (-12.17467, 18.278216), (-11.680279, 18.83906), (-13.1406, 20.126352), (-6.20836, 20.126352), align=None, mode=Mode.SUBTRACT)
        Polygon((-11.416613, 24.308838), (-8.851702, 22.047837), (-6.20836, 25.04648), (-6.20836, 21.415438), (-11.416613, 21.415438), align=None, mode=Mode.SUBTRACT)
        Polygon((-4.286453, 19.964633), (-4.286453, 25.283757), (-1.647903, 22.957841), align=None, mode=Mode.SUBTRACT)
        Polygon((-14.602957, 21.415438), (-18.15631, 24.547764), (-15.327734, 27.75654), (-12.835704, 25.559785), (-12.835704, 21.415438), align=None, mode=Mode.SUBTRACT)
        with BuildLine():
            Line((37.897688, 16.563832), (27.077917, 10.302059))
            ThreePointArc((27.077917, 10.302059), (30.53882, 16.800609), (37.897688, 16.563832))
        make_face(mode=Mode.SUBTRACT)
    extrude(amount=F1_DEPTH)


solid = f1.part
